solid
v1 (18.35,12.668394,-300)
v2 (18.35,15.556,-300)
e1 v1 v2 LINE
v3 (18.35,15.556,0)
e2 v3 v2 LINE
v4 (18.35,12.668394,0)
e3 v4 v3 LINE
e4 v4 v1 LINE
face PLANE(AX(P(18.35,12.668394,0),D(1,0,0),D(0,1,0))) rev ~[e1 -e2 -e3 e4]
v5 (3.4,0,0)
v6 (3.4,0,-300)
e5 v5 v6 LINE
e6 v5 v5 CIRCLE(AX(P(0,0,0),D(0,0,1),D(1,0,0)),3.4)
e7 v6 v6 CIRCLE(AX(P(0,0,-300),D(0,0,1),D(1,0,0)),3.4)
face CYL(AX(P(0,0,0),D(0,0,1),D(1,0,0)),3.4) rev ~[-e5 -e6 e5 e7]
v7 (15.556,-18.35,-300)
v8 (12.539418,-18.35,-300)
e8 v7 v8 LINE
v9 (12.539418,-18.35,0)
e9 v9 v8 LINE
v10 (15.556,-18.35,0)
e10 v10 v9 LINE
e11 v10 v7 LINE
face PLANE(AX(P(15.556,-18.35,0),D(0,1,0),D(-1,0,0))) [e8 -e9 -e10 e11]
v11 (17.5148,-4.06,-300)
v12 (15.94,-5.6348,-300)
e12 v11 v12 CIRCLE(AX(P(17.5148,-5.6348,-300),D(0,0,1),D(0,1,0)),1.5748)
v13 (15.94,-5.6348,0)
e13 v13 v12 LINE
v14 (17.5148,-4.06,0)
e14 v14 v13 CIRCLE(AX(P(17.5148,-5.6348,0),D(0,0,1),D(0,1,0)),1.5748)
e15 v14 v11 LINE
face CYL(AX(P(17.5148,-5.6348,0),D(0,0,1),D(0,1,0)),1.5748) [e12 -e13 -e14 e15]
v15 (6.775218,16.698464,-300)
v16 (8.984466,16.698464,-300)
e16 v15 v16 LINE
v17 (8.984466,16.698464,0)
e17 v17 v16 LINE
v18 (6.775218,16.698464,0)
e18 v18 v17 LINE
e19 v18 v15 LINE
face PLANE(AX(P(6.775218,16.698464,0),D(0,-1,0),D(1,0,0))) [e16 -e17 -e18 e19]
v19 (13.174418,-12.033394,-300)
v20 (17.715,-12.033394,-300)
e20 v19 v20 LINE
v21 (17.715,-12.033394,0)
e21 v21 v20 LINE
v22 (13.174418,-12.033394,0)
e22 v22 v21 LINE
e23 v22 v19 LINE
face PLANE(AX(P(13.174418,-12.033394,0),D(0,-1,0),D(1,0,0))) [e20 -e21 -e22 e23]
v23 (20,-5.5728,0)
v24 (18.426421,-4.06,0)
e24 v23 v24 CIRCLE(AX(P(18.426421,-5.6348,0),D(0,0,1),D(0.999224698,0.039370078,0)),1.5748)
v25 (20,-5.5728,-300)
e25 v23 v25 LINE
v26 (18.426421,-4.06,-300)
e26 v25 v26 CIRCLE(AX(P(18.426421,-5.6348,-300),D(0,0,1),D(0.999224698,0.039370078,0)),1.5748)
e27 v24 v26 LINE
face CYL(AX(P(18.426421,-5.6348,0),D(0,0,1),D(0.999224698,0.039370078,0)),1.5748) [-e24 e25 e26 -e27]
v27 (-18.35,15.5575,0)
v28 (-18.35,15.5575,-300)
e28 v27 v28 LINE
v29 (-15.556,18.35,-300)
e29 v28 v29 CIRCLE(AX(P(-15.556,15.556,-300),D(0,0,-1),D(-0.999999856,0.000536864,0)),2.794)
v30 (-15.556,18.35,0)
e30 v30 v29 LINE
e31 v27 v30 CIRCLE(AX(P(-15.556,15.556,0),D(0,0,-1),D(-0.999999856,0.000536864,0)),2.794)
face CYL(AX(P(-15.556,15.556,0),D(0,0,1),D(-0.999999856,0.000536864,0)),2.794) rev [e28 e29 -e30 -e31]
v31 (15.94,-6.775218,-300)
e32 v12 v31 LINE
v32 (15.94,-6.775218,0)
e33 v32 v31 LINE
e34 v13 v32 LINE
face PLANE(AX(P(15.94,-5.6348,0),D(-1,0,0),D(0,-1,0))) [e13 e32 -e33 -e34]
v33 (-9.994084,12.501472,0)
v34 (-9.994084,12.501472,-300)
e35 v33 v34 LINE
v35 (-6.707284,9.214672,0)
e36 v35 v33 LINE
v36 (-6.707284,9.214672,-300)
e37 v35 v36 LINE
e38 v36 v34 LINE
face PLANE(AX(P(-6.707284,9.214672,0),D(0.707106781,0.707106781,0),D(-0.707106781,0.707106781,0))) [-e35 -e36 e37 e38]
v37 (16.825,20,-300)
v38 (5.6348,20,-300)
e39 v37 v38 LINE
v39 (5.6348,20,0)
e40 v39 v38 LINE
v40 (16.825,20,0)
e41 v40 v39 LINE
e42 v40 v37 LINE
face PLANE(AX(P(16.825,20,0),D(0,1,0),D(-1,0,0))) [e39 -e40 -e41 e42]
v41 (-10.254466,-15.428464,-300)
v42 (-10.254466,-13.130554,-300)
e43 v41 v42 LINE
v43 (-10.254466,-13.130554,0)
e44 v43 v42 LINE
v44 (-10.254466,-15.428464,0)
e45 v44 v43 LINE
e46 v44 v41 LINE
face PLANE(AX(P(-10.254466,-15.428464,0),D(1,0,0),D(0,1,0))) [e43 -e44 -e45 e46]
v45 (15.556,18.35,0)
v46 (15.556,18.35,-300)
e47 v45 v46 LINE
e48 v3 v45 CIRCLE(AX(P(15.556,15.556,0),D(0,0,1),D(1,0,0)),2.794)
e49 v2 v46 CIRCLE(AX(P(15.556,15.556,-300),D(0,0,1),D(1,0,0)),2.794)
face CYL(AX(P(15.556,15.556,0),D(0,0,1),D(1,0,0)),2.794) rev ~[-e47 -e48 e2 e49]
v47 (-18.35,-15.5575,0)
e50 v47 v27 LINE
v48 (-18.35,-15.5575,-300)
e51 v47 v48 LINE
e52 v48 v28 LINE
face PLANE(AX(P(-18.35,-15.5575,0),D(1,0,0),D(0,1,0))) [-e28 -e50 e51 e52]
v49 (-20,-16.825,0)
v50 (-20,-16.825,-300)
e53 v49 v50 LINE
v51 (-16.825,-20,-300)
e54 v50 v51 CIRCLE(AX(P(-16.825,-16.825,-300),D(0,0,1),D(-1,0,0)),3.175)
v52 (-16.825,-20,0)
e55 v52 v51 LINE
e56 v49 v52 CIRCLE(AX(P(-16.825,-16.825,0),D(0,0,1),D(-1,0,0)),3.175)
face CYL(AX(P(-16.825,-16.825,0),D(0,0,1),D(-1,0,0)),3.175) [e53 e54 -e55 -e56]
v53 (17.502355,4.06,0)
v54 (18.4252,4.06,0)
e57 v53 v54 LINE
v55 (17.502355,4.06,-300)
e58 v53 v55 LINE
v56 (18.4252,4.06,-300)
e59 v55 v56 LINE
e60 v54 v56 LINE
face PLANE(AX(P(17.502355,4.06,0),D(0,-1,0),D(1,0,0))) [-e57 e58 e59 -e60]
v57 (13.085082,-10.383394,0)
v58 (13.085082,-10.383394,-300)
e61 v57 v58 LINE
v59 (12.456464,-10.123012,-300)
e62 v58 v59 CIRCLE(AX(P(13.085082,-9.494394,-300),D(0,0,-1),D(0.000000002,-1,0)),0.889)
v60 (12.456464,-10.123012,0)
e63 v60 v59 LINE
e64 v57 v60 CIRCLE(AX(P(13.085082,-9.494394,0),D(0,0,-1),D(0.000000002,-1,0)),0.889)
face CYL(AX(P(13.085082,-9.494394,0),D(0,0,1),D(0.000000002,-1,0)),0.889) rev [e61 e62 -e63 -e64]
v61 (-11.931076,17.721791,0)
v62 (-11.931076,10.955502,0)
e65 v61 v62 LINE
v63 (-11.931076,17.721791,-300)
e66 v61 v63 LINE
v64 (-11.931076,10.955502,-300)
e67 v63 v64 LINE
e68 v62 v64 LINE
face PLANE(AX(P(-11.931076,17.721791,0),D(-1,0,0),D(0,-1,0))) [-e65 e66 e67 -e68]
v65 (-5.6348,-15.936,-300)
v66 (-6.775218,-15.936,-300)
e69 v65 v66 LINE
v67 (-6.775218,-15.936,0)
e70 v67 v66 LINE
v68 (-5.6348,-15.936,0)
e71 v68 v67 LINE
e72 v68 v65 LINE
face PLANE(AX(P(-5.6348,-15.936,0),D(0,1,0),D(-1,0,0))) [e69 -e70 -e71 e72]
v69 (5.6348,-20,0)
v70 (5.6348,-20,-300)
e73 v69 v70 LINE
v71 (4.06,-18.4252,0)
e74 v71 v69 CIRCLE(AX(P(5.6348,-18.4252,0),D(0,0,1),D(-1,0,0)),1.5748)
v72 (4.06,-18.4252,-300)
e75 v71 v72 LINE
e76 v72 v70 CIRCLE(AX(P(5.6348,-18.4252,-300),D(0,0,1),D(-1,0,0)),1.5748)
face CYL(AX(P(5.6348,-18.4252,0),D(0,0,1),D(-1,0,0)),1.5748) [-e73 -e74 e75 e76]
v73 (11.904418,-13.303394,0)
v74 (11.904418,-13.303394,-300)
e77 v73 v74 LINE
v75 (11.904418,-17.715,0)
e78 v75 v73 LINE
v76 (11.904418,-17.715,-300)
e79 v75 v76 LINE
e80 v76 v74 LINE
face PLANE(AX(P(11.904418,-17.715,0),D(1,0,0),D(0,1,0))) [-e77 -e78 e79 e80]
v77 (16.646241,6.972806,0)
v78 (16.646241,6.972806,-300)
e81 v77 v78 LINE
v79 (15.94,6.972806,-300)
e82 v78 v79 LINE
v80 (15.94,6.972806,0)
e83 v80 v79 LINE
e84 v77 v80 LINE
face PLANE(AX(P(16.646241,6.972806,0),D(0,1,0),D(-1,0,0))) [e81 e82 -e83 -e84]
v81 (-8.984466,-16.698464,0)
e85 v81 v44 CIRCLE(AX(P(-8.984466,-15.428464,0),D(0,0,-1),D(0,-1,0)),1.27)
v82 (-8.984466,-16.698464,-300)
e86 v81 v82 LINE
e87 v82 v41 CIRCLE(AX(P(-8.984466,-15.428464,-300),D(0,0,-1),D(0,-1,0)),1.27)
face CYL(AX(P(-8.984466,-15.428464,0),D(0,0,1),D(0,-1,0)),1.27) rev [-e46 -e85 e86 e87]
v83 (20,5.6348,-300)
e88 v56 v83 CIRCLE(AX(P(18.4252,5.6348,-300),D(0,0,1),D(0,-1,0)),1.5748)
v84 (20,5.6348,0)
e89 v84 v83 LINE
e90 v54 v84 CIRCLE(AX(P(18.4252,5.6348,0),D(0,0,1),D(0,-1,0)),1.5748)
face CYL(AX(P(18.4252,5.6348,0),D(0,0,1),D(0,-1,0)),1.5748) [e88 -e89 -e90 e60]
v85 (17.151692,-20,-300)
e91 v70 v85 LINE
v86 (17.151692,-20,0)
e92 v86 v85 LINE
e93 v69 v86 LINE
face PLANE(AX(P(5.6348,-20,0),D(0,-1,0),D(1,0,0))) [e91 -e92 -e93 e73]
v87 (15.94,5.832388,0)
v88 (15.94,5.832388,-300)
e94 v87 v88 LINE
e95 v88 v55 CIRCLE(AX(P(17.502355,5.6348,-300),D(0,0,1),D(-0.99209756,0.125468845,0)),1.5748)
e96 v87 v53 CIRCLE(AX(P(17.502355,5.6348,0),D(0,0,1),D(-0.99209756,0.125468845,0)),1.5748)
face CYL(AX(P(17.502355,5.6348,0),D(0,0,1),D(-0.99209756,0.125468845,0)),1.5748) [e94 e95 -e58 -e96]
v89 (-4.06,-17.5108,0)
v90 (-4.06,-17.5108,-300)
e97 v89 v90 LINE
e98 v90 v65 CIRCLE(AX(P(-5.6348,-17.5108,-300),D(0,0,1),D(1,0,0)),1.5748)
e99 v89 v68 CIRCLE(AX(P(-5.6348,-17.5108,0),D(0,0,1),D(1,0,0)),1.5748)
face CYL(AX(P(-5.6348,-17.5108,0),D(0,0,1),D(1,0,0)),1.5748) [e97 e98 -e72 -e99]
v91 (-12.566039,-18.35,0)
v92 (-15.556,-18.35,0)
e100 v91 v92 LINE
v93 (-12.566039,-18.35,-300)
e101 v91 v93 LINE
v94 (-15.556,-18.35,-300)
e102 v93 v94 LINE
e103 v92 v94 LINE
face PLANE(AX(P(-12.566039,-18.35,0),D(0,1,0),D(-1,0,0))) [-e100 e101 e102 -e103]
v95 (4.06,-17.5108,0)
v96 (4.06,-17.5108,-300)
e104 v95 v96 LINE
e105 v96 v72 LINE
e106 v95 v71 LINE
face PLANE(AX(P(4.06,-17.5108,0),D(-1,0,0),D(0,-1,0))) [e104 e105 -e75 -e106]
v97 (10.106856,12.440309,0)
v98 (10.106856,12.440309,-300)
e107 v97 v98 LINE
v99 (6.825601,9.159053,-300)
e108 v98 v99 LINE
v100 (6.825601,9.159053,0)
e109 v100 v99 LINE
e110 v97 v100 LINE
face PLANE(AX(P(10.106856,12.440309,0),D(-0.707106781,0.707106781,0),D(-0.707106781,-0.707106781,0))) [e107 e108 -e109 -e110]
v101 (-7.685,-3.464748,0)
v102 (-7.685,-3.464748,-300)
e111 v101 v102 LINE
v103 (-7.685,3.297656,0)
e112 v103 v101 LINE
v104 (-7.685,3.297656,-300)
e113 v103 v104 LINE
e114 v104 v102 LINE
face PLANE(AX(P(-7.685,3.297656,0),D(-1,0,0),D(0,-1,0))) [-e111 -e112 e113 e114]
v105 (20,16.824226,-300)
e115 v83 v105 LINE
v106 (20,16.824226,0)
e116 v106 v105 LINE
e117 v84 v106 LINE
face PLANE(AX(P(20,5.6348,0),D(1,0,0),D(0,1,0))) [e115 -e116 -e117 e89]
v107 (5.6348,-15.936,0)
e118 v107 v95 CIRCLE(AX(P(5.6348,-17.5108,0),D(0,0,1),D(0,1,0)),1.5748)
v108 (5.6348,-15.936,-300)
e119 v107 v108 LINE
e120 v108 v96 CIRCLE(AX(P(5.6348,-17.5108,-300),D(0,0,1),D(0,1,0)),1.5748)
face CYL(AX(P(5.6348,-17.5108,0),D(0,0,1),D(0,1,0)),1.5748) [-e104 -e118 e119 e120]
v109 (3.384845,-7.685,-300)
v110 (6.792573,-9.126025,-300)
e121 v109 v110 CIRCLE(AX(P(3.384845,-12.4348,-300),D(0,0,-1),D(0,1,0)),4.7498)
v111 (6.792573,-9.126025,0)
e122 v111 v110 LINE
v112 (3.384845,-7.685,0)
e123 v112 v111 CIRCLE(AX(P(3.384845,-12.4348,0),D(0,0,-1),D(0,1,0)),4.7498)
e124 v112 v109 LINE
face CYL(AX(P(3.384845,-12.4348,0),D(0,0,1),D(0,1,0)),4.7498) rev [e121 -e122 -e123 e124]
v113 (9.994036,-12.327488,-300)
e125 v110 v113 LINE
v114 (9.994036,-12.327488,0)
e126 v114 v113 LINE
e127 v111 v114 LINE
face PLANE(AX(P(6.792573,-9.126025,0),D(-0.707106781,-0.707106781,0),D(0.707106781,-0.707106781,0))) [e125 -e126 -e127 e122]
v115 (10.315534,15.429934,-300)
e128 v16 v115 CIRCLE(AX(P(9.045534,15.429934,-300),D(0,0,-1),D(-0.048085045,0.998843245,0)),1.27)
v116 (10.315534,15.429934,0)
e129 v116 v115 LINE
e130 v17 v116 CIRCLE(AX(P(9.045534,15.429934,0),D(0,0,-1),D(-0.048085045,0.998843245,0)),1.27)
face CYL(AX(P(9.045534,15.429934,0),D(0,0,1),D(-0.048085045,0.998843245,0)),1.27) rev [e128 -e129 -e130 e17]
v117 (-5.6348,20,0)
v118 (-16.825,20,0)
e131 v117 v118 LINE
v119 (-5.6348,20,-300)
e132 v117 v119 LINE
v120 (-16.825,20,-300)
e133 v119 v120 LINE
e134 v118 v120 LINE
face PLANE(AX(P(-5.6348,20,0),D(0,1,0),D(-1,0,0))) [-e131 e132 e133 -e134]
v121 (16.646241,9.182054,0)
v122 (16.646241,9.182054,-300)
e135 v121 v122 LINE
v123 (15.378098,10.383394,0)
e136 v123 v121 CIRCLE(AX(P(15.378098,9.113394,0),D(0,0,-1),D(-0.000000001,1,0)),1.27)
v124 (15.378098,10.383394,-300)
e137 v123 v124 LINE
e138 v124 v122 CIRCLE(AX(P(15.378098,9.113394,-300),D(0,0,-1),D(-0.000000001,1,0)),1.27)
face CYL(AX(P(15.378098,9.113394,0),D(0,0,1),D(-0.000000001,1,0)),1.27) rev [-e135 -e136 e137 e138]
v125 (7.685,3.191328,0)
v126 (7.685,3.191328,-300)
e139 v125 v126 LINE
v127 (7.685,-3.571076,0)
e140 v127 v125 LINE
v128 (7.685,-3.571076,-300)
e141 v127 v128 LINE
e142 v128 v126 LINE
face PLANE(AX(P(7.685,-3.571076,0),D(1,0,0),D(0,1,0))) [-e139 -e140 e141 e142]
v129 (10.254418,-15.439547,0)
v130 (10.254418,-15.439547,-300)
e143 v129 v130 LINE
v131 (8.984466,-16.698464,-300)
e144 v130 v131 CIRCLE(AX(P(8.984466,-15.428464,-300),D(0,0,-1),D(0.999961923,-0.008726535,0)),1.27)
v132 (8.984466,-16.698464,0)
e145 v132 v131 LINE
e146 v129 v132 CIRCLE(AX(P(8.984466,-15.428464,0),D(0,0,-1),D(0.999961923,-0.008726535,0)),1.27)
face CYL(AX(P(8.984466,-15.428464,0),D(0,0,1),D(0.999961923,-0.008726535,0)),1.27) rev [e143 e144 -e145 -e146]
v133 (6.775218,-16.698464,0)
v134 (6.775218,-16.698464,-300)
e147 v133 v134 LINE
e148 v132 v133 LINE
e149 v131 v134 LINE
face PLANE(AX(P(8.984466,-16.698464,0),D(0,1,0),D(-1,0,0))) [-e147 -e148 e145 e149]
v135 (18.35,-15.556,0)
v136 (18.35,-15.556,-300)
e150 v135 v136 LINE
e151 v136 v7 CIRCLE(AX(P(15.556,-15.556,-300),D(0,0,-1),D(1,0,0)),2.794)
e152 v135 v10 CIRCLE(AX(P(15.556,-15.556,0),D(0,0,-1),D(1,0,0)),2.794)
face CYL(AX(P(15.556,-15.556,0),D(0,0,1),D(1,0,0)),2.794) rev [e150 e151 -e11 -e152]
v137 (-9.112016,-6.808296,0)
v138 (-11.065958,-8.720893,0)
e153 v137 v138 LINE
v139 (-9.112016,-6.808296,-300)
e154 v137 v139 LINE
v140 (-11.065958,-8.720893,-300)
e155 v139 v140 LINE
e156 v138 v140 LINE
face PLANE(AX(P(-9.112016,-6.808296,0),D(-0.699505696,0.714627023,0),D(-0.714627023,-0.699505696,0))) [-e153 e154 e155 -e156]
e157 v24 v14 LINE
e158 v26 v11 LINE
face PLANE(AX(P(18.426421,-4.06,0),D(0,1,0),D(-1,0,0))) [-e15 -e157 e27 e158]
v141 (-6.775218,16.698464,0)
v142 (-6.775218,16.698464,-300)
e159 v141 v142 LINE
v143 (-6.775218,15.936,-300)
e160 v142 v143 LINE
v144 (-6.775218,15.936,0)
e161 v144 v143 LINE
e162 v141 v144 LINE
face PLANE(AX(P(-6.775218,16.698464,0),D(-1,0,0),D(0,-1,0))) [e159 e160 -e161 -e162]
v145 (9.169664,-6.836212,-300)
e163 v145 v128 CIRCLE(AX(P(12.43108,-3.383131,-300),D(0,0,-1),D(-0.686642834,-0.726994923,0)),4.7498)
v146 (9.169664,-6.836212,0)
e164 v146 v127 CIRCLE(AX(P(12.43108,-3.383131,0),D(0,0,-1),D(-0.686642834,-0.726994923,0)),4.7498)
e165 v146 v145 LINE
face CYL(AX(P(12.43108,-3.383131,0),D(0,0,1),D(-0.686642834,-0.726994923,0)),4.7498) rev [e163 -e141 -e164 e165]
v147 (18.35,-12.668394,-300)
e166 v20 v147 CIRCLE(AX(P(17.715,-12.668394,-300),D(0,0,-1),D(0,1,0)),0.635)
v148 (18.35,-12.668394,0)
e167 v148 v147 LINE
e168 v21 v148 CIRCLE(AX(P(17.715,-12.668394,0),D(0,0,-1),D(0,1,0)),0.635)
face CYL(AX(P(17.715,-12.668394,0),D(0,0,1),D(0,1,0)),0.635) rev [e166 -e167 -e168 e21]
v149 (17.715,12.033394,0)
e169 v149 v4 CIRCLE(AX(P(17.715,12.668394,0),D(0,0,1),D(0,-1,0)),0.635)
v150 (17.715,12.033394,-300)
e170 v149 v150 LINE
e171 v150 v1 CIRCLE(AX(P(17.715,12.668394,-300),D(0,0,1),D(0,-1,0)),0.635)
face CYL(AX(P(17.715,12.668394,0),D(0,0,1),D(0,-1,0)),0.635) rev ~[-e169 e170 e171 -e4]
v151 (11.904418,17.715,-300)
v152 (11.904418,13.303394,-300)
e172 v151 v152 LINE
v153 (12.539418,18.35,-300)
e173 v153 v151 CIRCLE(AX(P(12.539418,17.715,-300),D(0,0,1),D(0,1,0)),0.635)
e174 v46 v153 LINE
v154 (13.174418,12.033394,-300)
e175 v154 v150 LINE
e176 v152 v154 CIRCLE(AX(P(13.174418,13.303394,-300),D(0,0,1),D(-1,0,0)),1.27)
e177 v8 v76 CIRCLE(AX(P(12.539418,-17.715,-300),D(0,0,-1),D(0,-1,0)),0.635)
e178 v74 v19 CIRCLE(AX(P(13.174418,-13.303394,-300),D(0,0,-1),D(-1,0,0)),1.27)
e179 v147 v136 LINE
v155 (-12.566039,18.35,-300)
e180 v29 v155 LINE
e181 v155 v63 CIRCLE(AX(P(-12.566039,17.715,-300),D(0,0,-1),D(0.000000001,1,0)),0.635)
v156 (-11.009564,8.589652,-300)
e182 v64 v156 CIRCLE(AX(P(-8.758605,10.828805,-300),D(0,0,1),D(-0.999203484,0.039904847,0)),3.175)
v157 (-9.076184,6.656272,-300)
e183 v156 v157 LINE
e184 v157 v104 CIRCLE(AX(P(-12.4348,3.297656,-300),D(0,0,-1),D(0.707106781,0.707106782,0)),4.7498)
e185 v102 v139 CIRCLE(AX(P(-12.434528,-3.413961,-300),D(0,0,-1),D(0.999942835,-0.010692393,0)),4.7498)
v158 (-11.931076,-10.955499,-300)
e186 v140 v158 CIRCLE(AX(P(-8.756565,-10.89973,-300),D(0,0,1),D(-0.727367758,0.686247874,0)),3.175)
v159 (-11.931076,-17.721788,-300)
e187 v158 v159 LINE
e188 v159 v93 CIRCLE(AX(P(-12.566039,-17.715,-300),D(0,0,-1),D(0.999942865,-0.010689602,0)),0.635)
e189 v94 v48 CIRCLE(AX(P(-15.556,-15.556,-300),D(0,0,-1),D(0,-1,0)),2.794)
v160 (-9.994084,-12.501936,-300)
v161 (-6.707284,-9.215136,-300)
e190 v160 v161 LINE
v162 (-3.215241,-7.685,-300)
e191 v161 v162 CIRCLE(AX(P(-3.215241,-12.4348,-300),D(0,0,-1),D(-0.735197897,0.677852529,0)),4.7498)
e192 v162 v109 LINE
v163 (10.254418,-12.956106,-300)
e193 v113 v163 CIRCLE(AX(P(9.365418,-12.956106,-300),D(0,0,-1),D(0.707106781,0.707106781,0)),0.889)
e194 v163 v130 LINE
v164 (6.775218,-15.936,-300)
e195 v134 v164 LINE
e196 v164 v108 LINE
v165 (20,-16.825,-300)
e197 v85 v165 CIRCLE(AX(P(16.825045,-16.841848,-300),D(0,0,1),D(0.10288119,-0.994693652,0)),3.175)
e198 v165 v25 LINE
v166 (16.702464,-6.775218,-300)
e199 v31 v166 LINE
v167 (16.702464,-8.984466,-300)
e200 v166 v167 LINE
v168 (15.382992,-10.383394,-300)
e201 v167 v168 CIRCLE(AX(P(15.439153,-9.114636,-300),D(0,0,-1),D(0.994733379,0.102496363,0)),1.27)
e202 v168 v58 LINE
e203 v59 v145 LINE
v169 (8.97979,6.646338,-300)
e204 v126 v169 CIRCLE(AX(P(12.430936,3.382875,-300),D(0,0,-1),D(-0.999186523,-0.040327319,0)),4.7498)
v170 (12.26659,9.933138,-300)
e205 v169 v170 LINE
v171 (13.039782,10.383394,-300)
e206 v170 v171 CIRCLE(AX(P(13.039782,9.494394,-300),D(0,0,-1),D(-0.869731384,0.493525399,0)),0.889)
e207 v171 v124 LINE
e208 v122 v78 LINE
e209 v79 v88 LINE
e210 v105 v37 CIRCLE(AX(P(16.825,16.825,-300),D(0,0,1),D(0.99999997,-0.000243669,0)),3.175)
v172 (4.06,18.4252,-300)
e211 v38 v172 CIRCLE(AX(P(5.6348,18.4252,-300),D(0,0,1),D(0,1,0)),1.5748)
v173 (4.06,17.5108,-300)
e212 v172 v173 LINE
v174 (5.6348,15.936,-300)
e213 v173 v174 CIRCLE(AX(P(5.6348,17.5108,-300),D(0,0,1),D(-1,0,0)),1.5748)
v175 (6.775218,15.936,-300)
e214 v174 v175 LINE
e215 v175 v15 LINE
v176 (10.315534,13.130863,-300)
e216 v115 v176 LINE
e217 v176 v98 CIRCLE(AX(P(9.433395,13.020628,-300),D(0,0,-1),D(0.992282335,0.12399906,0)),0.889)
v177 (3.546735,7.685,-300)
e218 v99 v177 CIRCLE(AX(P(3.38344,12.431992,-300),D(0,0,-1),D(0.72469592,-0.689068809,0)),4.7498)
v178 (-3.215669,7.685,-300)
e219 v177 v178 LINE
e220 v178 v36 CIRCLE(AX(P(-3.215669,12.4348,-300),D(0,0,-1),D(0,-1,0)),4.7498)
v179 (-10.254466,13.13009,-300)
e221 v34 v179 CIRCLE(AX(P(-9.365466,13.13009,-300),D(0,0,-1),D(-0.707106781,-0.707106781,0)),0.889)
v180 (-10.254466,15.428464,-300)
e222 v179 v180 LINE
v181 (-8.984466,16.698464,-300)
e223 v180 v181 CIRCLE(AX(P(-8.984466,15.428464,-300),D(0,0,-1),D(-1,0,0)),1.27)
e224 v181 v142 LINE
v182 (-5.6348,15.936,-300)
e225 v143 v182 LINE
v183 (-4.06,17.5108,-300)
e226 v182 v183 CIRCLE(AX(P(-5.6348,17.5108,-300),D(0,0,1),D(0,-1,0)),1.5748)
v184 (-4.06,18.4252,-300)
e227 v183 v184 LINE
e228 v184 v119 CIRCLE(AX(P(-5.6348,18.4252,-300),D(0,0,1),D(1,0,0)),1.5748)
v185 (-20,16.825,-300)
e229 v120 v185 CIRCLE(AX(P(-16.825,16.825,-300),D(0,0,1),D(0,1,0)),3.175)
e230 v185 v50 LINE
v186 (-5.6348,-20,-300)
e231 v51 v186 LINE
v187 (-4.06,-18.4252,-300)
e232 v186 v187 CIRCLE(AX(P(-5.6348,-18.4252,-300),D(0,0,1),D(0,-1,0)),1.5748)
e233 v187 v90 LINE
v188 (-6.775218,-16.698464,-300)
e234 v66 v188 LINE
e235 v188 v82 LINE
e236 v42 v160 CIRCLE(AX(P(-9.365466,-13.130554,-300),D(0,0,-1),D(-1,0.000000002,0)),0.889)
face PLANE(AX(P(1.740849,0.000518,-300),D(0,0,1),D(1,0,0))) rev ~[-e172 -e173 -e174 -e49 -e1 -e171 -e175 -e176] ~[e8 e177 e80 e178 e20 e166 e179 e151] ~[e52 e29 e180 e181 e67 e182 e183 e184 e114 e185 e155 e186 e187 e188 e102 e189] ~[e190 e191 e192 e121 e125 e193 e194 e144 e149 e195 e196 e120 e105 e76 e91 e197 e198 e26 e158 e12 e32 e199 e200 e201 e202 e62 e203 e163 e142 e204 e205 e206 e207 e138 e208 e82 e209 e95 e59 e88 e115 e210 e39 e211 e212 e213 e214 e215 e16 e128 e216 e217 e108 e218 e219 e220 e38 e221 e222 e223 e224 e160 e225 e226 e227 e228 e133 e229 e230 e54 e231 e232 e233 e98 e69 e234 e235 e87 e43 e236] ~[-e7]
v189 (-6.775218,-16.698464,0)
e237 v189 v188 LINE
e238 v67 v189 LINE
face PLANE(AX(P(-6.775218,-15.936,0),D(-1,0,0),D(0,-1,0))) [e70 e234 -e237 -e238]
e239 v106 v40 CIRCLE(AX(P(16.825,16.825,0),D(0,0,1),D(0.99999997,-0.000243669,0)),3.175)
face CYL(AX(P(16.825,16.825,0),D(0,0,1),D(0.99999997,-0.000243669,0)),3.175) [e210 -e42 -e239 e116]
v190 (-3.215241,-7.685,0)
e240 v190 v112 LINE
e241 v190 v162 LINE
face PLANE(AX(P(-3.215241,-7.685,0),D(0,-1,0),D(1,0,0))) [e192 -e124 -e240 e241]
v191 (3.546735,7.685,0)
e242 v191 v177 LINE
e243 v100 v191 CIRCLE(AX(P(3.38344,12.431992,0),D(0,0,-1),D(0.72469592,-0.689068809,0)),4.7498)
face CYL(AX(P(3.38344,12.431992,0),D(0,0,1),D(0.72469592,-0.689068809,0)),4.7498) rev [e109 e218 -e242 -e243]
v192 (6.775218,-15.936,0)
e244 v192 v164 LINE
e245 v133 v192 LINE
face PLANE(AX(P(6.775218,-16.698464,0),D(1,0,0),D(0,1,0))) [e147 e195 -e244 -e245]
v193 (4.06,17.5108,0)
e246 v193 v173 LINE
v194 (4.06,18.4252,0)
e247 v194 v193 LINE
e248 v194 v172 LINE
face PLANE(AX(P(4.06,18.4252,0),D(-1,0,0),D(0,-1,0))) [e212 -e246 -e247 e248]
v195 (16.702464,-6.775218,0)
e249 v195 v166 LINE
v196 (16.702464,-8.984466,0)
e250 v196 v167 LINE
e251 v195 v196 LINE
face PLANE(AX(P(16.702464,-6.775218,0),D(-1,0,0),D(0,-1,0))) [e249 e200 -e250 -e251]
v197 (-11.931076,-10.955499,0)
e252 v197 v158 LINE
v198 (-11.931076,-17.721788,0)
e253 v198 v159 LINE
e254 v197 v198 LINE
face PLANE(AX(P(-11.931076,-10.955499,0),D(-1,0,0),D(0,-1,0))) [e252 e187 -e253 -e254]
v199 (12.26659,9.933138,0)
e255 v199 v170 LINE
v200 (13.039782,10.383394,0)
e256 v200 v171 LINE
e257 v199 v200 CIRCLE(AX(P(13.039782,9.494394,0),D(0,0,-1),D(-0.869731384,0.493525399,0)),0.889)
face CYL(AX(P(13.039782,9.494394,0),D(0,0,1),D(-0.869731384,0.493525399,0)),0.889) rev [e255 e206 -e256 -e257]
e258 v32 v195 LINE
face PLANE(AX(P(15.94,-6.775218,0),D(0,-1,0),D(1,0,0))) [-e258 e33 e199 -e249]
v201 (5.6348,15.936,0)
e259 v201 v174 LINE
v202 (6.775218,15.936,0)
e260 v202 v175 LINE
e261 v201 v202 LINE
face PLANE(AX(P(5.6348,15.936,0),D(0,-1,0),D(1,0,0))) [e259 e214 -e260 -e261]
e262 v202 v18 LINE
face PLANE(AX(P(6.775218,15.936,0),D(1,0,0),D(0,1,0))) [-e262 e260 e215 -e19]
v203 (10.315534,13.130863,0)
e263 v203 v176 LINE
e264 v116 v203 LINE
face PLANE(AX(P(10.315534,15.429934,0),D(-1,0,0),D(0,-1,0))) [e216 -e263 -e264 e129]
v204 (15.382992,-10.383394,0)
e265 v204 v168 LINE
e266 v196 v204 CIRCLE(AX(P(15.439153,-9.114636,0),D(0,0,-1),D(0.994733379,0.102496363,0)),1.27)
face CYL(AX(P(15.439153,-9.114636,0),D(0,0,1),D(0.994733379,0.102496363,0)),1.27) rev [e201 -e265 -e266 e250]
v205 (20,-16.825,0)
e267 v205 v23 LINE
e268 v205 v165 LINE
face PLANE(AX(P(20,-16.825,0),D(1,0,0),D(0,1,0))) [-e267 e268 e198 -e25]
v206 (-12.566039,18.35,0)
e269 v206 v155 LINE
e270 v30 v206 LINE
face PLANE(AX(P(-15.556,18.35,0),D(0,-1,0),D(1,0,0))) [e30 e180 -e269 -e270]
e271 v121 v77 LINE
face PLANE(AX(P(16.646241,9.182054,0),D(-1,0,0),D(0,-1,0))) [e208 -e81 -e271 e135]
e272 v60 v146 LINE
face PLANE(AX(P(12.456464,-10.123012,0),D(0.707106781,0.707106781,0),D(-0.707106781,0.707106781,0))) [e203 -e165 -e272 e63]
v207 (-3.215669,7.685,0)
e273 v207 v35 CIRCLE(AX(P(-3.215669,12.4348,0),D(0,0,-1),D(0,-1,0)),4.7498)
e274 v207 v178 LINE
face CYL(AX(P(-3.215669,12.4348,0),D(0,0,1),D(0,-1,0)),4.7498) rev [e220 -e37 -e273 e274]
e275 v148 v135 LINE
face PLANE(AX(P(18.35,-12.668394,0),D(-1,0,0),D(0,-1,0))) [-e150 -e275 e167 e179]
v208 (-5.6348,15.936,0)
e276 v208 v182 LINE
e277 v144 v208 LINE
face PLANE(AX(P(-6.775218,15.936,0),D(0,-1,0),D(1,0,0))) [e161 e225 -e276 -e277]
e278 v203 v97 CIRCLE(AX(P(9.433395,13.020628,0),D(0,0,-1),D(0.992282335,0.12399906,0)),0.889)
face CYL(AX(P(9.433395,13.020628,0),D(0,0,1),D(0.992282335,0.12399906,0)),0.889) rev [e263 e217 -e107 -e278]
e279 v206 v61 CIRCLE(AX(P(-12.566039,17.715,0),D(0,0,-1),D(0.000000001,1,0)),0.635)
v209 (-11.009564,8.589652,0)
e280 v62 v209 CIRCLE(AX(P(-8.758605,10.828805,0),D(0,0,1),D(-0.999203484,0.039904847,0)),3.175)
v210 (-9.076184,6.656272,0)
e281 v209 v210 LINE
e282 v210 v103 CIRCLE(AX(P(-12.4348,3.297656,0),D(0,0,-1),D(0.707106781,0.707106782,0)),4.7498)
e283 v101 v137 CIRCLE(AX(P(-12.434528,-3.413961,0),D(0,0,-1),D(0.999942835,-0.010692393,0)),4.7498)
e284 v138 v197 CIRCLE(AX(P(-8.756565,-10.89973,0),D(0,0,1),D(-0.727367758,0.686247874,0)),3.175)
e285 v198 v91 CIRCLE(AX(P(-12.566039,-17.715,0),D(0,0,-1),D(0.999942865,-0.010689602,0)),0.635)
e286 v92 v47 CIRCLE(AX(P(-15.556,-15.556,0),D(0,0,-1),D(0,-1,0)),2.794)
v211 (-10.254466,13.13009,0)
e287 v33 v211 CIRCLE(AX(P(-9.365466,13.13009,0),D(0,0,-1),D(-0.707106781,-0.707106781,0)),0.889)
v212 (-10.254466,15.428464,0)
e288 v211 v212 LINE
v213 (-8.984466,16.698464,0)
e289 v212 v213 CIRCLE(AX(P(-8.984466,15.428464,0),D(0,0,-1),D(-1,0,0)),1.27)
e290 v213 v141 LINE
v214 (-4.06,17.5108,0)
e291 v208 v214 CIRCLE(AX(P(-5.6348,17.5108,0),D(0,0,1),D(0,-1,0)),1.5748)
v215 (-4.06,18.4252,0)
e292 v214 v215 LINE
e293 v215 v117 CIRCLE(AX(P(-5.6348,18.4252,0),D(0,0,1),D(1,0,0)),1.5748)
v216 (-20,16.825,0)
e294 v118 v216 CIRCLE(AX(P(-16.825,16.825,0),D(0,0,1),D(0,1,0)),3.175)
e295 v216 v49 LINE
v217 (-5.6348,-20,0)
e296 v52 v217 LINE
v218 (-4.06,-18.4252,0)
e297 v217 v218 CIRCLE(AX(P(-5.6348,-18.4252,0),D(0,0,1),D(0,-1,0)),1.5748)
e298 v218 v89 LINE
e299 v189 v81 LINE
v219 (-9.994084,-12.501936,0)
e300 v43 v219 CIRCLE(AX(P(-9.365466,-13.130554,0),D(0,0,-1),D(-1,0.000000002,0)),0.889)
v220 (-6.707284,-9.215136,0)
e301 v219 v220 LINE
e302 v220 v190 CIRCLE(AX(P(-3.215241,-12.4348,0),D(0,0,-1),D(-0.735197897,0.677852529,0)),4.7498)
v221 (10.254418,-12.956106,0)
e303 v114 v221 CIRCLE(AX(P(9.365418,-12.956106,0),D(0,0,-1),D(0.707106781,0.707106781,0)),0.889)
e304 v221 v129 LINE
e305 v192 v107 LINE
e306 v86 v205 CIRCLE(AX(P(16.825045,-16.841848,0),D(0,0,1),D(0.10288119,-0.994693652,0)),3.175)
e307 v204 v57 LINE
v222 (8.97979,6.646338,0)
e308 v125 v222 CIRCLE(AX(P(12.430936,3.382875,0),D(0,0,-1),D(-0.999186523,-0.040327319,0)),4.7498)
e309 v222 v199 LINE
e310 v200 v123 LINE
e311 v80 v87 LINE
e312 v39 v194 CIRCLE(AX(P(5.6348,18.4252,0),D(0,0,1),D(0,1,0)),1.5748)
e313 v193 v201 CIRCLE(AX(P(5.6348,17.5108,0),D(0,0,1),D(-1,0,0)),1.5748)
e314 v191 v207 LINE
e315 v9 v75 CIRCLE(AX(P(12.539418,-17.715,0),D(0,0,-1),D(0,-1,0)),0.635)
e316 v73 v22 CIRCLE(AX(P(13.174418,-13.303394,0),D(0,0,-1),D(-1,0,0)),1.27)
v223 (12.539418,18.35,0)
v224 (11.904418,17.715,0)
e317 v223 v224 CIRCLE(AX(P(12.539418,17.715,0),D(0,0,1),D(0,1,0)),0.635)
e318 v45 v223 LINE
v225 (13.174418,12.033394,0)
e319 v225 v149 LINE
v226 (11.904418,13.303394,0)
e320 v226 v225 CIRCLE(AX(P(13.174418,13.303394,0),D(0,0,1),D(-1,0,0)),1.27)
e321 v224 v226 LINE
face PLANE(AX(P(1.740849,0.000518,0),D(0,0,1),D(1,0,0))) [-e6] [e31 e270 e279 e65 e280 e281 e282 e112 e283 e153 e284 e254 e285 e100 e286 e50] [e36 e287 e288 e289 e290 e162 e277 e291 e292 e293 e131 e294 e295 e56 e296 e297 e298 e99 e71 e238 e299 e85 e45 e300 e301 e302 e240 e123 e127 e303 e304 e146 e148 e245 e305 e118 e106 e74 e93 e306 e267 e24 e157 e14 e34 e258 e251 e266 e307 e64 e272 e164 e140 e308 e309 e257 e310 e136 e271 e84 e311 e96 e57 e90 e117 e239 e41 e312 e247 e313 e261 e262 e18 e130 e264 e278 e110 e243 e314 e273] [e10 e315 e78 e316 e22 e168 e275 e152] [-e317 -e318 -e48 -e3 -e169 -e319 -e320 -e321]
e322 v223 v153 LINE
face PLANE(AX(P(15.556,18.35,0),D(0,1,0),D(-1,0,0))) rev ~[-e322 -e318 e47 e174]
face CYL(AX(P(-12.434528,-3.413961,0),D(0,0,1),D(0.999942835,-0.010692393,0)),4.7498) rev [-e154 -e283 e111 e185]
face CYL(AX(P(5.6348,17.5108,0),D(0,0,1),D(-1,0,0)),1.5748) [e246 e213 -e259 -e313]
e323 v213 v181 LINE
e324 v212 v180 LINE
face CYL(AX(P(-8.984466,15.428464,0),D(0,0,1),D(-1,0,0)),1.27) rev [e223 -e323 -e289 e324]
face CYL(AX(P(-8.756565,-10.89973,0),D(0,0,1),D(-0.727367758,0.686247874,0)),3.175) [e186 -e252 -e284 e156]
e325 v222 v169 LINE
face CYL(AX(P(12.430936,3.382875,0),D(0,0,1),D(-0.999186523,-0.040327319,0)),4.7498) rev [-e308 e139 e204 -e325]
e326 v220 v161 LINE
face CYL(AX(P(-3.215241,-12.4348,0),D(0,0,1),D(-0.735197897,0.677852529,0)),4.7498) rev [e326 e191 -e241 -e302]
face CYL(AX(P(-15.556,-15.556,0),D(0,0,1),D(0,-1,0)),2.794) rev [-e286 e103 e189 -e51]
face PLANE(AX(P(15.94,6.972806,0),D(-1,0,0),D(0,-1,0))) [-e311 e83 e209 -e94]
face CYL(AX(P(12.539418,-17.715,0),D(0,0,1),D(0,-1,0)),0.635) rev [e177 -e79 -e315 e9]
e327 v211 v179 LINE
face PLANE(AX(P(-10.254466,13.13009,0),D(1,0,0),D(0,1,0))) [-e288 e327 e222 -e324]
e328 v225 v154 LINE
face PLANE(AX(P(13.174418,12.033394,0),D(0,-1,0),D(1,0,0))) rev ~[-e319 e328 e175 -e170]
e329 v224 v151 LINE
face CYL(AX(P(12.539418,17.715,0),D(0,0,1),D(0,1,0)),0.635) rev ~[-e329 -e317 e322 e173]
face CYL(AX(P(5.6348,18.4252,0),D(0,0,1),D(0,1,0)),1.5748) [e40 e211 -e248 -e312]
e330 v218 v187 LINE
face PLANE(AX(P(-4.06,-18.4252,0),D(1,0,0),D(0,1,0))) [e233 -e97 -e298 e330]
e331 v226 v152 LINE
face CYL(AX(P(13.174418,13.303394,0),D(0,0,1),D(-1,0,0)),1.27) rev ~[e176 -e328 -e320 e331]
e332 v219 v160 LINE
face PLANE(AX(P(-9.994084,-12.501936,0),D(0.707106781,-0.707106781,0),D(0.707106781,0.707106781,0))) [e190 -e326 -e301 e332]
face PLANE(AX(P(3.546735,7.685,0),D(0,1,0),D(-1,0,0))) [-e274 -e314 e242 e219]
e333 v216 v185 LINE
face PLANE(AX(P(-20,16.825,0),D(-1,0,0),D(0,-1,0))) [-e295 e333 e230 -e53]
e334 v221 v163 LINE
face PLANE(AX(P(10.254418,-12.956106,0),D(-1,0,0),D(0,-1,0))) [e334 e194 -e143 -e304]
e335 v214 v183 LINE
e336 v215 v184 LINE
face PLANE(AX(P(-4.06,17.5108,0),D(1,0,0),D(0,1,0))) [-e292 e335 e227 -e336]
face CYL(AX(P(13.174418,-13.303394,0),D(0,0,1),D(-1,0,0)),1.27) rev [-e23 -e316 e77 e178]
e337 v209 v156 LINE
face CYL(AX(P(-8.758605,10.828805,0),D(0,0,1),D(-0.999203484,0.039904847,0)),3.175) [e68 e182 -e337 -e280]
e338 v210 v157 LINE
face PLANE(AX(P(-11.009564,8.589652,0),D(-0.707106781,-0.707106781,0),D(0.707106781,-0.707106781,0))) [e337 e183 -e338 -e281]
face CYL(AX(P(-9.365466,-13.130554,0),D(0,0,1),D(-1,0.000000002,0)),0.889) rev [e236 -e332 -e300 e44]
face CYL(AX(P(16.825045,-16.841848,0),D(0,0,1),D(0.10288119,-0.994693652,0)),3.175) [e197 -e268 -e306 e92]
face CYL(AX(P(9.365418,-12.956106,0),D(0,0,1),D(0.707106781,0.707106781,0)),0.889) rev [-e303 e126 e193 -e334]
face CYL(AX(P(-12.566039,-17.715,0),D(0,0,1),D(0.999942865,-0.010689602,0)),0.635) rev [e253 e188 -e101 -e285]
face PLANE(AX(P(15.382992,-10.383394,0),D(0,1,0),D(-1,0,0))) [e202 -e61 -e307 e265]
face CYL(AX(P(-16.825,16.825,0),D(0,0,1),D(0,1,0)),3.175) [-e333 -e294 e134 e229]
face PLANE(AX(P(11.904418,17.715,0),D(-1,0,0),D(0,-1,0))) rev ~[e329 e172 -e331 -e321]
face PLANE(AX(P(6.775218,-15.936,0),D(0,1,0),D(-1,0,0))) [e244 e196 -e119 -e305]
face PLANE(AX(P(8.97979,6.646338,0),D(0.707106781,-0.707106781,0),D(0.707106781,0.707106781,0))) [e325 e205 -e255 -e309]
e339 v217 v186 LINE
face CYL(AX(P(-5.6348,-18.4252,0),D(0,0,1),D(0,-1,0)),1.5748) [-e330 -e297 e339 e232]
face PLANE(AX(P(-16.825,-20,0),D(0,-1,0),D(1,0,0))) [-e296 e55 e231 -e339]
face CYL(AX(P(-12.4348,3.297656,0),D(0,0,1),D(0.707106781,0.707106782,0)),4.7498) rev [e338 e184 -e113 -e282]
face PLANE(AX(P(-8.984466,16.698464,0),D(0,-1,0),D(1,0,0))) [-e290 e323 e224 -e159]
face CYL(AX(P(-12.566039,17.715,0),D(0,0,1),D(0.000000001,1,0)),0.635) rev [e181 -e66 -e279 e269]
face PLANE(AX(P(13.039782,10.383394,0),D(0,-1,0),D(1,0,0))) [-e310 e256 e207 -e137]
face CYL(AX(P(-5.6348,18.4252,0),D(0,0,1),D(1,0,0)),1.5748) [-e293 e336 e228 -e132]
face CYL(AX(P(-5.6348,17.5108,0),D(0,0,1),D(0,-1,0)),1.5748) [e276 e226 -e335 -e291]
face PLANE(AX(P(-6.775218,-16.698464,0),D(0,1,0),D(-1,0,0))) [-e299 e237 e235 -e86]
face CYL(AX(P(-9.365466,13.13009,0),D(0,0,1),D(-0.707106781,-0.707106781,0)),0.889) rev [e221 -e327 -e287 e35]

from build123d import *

# Parameters (mm, degrees)
SKETCH1_R      = 3.4
EXTRUDE1_DEPTH = 300


with BuildPart() as part:
    # Sketch1 → Extrude1 (new body)
    with BuildSketch(Plane.XY):
        with BuildLine():
            Line((3.546734719, 7.685), (-3.215668941, 7.685))
            ThreePointArc((-3.215668941, 7.685), (-5.12166397, 8.084192802), (-6.707283616, 9.214671586))
            Line((-6.707283616, 9.214671586), (-9.994083925, 12.501471895))
            ThreePointArc((-9.994083925, 12.501471895), (-10.186794901, 12.789884252), (-10.254465997, 13.130089823))
            Line((-10.254465997, 13.130089823), (-10.254465997, 15.428464473))
            ThreePointArc((-10.254465997, 15.428464473), (-9.882491609, 16.326490085), (-8.984465997, 16.698464473))
            Line((-8.984465997, 16.698464473), (-6.775217878, 16.698464473))
            Line((-6.775217878, 16.698464473), (-6.775217878, 15.936))
            Line((-6.775217878, 15.936), (-5.6348, 15.936))
            ThreePointArc((-5.6348, 15.936), (-4.521248241, 16.397248241), (-4.06, 17.5108))
            Line((-4.06, 17.5108), (-4.06, 18.4252))
            ThreePointArc((-4.06, 18.4252), (-4.521248241, 19.538751759), (-5.6348, 20))
            Line((-5.6348, 20), (-13.0175, 20))
            Line((-13.0175, 20), (-16.825, 20))
            ThreePointArc((-16.825, 20), (-19.07006403, 19.07006403), (-20, 16.825))
            Line((-20, 16.825), (-20, -16.825))
            ThreePointArc((-20, -16.825), (-19.07006403, -19.07006403), (-16.825, -20))
            Line((-16.825, -20), (-13.0175, -20))
            Line((-13.0175, -20), (-5.6348, -20))
            ThreePointArc((-5.6348, -20), (-4.521248241, -19.538751759), (-4.06, -18.4252))
            Line((-4.06, -18.4252), (-4.06, -17.5108))
            ThreePointArc((-4.06, -17.5108), (-4.521248241, -16.397248241), (-5.6348, -15.936))
            Line((-5.6348, -15.936), (-6.775217878, -15.936))
            Line((-6.775217878, -15.936), (-6.775217878, -16.698464473))
            Line((-6.775217878, -16.698464473), (-8.984465997, -16.698464473))
            ThreePointArc((-8.984465997, -16.698464473), (-9.882491609, -16.326490085), (-10.254465997, -15.428464473))
            Line((-10.254465997, -15.428464473), (-10.254465997, -13.130554296))
            ThreePointArc((-10.254465997, -13.130554296), (-10.186794901, -12.790348725), (-9.994083925, -12.501936368))
            Line((-9.994083925, -12.501936368), (-6.707283616, -9.215136058))
            ThreePointArc((-6.707283616, -9.215136058), (-5.121525017, -8.084319577), (-3.21524064, -7.685))
            Line((-3.21524064, -7.685), (3.384844934, -7.685))
            ThreePointArc((3.384844934, -7.685), (5.234788394, -8.060064667), (6.792572846, -9.126025224))
            Line((6.792572846, -9.126025224), (9.994035567, -12.327487945))
            ThreePointArc((9.994035567, -12.327487945), (10.186746543, -12.615900302), (10.254417639, -12.956105874))
            Line((10.254417639, -12.956105874), (10.254417639, -15.439547173))
            ThreePointArc((10.254417639, -15.439547173), (9.878564697, -16.3303999), (8.984465997, -16.698464473))
            Line((8.984465997, -16.698464473), (6.775217878, -16.698464473))
            Line((6.775217878, -16.698464473), (6.775217878, -15.936))
            Line((6.775217878, -15.936), (5.6348, -15.936))
            ThreePointArc((5.6348, -15.936), (4.521248241, -16.397248241), (4.06, -17.5108))
            Line((4.06, -17.5108), (4.06, -18.4252))
            ThreePointArc((4.06, -18.4252), (4.521248241, -19.538751759), (5.6348, -20))
            Line((5.6348, -20), (13.34169248, -20))
            Line((13.34169248, -20), (17.15169248, -20))
            ThreePointArc((17.15169248, -20), (19.188402964, -18.962027535), (20, -16.825))
            Line((20, -16.825), (20, -13.015))
            Line((20, -13.015), (20, -5.5728))
            ThreePointArc((20, -5.5728), (19.517832289, -4.499539536), (18.426420946, -4.06))
            Line((18.426420946, -4.06), (17.5148, -4.06))
            ThreePointArc((17.5148, -4.06), (16.401248241, -4.521248241), (15.94, -5.6348))
            Line((15.94, -5.6348), (15.94, -6.775217878))
            Line((15.94, -6.775217878), (16.702464473, -6.775217878))
            Line((16.702464473, -6.775217878), (16.702464473, -8.984465997))
            ThreePointArc((16.702464473, -8.984465997), (16.363032482, -9.986041481), (15.382992443, -10.383394031))
            Line((15.382992443, -10.383394031), (13.085082266, -10.383394031))
            ThreePointArc((13.085082266, -10.383394031), (12.744876695, -10.315722936), (12.456464338, -10.12301196))
            Line((12.456464338, -10.12301196), (9.169664028, -6.83621165))
            ThreePointArc((9.169664028, -6.83621165), (8.107276575, -5.34917353), (7.685, -3.571075679))
            Line((7.685, -3.571075679), (7.685, 3.191327981))
            ThreePointArc((7.685, 3.191327981), (7.983205038, 5.049694415), (8.979790179, 6.646337802))
            Line((8.979790179, 6.646337802), (12.266590489, 9.933138111))
            ThreePointArc((12.266590489, 9.933138111), (12.592412986, 10.262627227), (13.039781689, 10.383394031))
            Line((13.039781689, 10.383394031), (15.37809843, 10.383394031))
            ThreePointArc((15.37809843, 10.383394031), (16.251511682, 10.035375209), (16.646241073, 9.182054333))
            Line((16.646241073, 9.182054333), (16.646241073, 6.972806215))
            Line((16.646241073, 6.972806215), (15.94, 6.972806215))
            Line((15.94, 6.972806215), (15.94, 5.832388337))
            ThreePointArc((15.94, 5.832388337), (16.321009151, 4.593446811), (17.502355238, 4.06))
            Line((17.502355238, 4.06), (18.4252, 4.06))
            ThreePointArc((18.4252, 4.06), (19.538751759, 4.521248241), (20, 5.6348))
            Line((20, 5.6348), (20, 13.01422635))
            Line((20, 13.01422635), (20, 16.82422635))
            ThreePointArc((20, 16.82422635), (19.070337634, 19.069790487), (16.825000094, 20))
            Line((16.825000094, 20), (13.290515583, 20))
            Line((13.290515583, 20), (5.6348, 20))
            ThreePointArc((5.6348, 20), (4.521248241, 19.538751759), (4.06, 18.4252))
            Line((4.06, 18.4252), (4.06, 17.5108))
            ThreePointArc((4.06, 17.5108), (4.521248241, 16.397248241), (5.6348, 15.936))
            Line((5.6348, 15.936), (6.775217878, 15.936))
            Line((6.775217878, 15.936), (6.775217878, 16.698464473))
            Line((6.775217878, 16.698464473), (8.984465997, 16.698464473))
            ThreePointArc((8.984465997, 16.698464473), (9.921702832, 16.349296475), (10.315534003, 15.429933551))
            Line((10.315534003, 15.429933551), (10.315534003, 13.130863473))
            ThreePointArc((10.315534003, 13.130863473), (10.284388293, 12.763467996), (10.106856362, 12.44030874))
            Line((10.106856362, 12.44030874), (6.825600792, 9.15905317))
            ThreePointArc((6.825600792, 9.15905317), (5.331011713, 8.099837434), (3.546734719, 7.685))
        make_face()
        Circle(SKETCH1_R, mode=Mode.SUBTRACT)
        with BuildLine():
            Line((11.904417639, 17.715), (11.904417639, 13.303394031))
            ThreePointArc((11.904417639, 13.303394031), (12.276392027, 12.405368419), (13.174417639, 12.033394031))
            Line((13.174417639, 12.033394031), (17.715, 12.033394031))
            ThreePointArc((17.715, 12.033394031), (18.164012806, 12.219381225), (18.35, 12.668394031))
            Line((18.35, 12.668394031), (18.35, 15.556))
            ThreePointArc((18.35, 15.556), (17.531656347, 17.531656347), (15.556, 18.35))
            Line((15.556, 18.35), (12.539417639, 18.35))
            ThreePointArc((12.539417639, 18.35), (12.090404833, 18.164012806), (11.904417639, 17.715))
        make_face(mode=Mode.SUBTRACT)
        with BuildLine():
            Line((-12.566039342, -18.35), (-15.556000403, -18.35))
            ThreePointArc((-15.556000403, -18.35), (-17.531126348, -17.532186606), (-18.35, -15.5575))
            Line((-18.35, -15.5575), (-18.35, 15.5575))
            ThreePointArc((-18.35, 15.5575), (-17.531126348, 17.532186606), (-15.556000403, 18.35))
            Line((-15.556000403, 18.35), (-12.566039304, 18.35))
            ThreePointArc((-12.566039304, 18.35), (-12.11943409, 18.166407557), (-11.931075623, 17.721791441))
            Line((-11.931075623, 17.721791441), (-11.931075623, 10.955502483))
            ThreePointArc((-11.931075623, 10.955502483), (-11.717102891, 9.676453683), (-11.00956403, 8.589651528))
            Line((-11.00956403, 8.589651528), (-9.076184211, 6.656271709))
            ThreePointArc((-9.076184211, 6.656271709), (-8.046556996, 5.115325687), (-7.685, 3.29765592))
            Line((-7.685, 3.29765592), (-7.685, -3.46474774))
            ThreePointArc((-7.685, -3.46474774), (-8.065971567, -5.27844769), (-9.112016323, -6.808296445))
            Line((-9.112016323, -6.808296445), (-11.065958077, -8.720893286))
            ThreePointArc((-11.065958077, -8.720893286), (-11.717420577, -9.753448518), (-11.931075623, -10.95549894))
            Line((-11.931075623, -10.95549894), (-11.931075623, -17.721787898))
            ThreePointArc((-11.931075623, -17.721787898), (-12.119432868, -18.166406311), (-12.566039342, -18.35))
        make_face(mode=Mode.SUBTRACT)
        with BuildLine():
            Line((15.556, -18.35), (12.539417639, -18.35))
            ThreePointArc((12.539417639, -18.35), (12.090404833, -18.164012806), (11.904417639, -17.715))
            Line((11.904417639, -17.715), (11.904417639, -13.303394031))
            ThreePointArc((11.904417639, -13.303394031), (12.276392027, -12.405368419), (13.174417639, -12.033394031))
            Line((13.174417639, -12.033394031), (17.715, -12.033394031))
            ThreePointArc((17.715, -12.033394031), (18.164012806, -12.219381225), (18.35, -12.668394031))
            Line((18.35, -12.668394031), (18.35, -15.556))
            ThreePointArc((18.35, -15.556), (17.531656347, -17.531656347), (15.556, -18.35))
        make_face(mode=Mode.SUBTRACT)
    extrude(amount=-EXTRUDE1_DEPTH)


solid = part.part
